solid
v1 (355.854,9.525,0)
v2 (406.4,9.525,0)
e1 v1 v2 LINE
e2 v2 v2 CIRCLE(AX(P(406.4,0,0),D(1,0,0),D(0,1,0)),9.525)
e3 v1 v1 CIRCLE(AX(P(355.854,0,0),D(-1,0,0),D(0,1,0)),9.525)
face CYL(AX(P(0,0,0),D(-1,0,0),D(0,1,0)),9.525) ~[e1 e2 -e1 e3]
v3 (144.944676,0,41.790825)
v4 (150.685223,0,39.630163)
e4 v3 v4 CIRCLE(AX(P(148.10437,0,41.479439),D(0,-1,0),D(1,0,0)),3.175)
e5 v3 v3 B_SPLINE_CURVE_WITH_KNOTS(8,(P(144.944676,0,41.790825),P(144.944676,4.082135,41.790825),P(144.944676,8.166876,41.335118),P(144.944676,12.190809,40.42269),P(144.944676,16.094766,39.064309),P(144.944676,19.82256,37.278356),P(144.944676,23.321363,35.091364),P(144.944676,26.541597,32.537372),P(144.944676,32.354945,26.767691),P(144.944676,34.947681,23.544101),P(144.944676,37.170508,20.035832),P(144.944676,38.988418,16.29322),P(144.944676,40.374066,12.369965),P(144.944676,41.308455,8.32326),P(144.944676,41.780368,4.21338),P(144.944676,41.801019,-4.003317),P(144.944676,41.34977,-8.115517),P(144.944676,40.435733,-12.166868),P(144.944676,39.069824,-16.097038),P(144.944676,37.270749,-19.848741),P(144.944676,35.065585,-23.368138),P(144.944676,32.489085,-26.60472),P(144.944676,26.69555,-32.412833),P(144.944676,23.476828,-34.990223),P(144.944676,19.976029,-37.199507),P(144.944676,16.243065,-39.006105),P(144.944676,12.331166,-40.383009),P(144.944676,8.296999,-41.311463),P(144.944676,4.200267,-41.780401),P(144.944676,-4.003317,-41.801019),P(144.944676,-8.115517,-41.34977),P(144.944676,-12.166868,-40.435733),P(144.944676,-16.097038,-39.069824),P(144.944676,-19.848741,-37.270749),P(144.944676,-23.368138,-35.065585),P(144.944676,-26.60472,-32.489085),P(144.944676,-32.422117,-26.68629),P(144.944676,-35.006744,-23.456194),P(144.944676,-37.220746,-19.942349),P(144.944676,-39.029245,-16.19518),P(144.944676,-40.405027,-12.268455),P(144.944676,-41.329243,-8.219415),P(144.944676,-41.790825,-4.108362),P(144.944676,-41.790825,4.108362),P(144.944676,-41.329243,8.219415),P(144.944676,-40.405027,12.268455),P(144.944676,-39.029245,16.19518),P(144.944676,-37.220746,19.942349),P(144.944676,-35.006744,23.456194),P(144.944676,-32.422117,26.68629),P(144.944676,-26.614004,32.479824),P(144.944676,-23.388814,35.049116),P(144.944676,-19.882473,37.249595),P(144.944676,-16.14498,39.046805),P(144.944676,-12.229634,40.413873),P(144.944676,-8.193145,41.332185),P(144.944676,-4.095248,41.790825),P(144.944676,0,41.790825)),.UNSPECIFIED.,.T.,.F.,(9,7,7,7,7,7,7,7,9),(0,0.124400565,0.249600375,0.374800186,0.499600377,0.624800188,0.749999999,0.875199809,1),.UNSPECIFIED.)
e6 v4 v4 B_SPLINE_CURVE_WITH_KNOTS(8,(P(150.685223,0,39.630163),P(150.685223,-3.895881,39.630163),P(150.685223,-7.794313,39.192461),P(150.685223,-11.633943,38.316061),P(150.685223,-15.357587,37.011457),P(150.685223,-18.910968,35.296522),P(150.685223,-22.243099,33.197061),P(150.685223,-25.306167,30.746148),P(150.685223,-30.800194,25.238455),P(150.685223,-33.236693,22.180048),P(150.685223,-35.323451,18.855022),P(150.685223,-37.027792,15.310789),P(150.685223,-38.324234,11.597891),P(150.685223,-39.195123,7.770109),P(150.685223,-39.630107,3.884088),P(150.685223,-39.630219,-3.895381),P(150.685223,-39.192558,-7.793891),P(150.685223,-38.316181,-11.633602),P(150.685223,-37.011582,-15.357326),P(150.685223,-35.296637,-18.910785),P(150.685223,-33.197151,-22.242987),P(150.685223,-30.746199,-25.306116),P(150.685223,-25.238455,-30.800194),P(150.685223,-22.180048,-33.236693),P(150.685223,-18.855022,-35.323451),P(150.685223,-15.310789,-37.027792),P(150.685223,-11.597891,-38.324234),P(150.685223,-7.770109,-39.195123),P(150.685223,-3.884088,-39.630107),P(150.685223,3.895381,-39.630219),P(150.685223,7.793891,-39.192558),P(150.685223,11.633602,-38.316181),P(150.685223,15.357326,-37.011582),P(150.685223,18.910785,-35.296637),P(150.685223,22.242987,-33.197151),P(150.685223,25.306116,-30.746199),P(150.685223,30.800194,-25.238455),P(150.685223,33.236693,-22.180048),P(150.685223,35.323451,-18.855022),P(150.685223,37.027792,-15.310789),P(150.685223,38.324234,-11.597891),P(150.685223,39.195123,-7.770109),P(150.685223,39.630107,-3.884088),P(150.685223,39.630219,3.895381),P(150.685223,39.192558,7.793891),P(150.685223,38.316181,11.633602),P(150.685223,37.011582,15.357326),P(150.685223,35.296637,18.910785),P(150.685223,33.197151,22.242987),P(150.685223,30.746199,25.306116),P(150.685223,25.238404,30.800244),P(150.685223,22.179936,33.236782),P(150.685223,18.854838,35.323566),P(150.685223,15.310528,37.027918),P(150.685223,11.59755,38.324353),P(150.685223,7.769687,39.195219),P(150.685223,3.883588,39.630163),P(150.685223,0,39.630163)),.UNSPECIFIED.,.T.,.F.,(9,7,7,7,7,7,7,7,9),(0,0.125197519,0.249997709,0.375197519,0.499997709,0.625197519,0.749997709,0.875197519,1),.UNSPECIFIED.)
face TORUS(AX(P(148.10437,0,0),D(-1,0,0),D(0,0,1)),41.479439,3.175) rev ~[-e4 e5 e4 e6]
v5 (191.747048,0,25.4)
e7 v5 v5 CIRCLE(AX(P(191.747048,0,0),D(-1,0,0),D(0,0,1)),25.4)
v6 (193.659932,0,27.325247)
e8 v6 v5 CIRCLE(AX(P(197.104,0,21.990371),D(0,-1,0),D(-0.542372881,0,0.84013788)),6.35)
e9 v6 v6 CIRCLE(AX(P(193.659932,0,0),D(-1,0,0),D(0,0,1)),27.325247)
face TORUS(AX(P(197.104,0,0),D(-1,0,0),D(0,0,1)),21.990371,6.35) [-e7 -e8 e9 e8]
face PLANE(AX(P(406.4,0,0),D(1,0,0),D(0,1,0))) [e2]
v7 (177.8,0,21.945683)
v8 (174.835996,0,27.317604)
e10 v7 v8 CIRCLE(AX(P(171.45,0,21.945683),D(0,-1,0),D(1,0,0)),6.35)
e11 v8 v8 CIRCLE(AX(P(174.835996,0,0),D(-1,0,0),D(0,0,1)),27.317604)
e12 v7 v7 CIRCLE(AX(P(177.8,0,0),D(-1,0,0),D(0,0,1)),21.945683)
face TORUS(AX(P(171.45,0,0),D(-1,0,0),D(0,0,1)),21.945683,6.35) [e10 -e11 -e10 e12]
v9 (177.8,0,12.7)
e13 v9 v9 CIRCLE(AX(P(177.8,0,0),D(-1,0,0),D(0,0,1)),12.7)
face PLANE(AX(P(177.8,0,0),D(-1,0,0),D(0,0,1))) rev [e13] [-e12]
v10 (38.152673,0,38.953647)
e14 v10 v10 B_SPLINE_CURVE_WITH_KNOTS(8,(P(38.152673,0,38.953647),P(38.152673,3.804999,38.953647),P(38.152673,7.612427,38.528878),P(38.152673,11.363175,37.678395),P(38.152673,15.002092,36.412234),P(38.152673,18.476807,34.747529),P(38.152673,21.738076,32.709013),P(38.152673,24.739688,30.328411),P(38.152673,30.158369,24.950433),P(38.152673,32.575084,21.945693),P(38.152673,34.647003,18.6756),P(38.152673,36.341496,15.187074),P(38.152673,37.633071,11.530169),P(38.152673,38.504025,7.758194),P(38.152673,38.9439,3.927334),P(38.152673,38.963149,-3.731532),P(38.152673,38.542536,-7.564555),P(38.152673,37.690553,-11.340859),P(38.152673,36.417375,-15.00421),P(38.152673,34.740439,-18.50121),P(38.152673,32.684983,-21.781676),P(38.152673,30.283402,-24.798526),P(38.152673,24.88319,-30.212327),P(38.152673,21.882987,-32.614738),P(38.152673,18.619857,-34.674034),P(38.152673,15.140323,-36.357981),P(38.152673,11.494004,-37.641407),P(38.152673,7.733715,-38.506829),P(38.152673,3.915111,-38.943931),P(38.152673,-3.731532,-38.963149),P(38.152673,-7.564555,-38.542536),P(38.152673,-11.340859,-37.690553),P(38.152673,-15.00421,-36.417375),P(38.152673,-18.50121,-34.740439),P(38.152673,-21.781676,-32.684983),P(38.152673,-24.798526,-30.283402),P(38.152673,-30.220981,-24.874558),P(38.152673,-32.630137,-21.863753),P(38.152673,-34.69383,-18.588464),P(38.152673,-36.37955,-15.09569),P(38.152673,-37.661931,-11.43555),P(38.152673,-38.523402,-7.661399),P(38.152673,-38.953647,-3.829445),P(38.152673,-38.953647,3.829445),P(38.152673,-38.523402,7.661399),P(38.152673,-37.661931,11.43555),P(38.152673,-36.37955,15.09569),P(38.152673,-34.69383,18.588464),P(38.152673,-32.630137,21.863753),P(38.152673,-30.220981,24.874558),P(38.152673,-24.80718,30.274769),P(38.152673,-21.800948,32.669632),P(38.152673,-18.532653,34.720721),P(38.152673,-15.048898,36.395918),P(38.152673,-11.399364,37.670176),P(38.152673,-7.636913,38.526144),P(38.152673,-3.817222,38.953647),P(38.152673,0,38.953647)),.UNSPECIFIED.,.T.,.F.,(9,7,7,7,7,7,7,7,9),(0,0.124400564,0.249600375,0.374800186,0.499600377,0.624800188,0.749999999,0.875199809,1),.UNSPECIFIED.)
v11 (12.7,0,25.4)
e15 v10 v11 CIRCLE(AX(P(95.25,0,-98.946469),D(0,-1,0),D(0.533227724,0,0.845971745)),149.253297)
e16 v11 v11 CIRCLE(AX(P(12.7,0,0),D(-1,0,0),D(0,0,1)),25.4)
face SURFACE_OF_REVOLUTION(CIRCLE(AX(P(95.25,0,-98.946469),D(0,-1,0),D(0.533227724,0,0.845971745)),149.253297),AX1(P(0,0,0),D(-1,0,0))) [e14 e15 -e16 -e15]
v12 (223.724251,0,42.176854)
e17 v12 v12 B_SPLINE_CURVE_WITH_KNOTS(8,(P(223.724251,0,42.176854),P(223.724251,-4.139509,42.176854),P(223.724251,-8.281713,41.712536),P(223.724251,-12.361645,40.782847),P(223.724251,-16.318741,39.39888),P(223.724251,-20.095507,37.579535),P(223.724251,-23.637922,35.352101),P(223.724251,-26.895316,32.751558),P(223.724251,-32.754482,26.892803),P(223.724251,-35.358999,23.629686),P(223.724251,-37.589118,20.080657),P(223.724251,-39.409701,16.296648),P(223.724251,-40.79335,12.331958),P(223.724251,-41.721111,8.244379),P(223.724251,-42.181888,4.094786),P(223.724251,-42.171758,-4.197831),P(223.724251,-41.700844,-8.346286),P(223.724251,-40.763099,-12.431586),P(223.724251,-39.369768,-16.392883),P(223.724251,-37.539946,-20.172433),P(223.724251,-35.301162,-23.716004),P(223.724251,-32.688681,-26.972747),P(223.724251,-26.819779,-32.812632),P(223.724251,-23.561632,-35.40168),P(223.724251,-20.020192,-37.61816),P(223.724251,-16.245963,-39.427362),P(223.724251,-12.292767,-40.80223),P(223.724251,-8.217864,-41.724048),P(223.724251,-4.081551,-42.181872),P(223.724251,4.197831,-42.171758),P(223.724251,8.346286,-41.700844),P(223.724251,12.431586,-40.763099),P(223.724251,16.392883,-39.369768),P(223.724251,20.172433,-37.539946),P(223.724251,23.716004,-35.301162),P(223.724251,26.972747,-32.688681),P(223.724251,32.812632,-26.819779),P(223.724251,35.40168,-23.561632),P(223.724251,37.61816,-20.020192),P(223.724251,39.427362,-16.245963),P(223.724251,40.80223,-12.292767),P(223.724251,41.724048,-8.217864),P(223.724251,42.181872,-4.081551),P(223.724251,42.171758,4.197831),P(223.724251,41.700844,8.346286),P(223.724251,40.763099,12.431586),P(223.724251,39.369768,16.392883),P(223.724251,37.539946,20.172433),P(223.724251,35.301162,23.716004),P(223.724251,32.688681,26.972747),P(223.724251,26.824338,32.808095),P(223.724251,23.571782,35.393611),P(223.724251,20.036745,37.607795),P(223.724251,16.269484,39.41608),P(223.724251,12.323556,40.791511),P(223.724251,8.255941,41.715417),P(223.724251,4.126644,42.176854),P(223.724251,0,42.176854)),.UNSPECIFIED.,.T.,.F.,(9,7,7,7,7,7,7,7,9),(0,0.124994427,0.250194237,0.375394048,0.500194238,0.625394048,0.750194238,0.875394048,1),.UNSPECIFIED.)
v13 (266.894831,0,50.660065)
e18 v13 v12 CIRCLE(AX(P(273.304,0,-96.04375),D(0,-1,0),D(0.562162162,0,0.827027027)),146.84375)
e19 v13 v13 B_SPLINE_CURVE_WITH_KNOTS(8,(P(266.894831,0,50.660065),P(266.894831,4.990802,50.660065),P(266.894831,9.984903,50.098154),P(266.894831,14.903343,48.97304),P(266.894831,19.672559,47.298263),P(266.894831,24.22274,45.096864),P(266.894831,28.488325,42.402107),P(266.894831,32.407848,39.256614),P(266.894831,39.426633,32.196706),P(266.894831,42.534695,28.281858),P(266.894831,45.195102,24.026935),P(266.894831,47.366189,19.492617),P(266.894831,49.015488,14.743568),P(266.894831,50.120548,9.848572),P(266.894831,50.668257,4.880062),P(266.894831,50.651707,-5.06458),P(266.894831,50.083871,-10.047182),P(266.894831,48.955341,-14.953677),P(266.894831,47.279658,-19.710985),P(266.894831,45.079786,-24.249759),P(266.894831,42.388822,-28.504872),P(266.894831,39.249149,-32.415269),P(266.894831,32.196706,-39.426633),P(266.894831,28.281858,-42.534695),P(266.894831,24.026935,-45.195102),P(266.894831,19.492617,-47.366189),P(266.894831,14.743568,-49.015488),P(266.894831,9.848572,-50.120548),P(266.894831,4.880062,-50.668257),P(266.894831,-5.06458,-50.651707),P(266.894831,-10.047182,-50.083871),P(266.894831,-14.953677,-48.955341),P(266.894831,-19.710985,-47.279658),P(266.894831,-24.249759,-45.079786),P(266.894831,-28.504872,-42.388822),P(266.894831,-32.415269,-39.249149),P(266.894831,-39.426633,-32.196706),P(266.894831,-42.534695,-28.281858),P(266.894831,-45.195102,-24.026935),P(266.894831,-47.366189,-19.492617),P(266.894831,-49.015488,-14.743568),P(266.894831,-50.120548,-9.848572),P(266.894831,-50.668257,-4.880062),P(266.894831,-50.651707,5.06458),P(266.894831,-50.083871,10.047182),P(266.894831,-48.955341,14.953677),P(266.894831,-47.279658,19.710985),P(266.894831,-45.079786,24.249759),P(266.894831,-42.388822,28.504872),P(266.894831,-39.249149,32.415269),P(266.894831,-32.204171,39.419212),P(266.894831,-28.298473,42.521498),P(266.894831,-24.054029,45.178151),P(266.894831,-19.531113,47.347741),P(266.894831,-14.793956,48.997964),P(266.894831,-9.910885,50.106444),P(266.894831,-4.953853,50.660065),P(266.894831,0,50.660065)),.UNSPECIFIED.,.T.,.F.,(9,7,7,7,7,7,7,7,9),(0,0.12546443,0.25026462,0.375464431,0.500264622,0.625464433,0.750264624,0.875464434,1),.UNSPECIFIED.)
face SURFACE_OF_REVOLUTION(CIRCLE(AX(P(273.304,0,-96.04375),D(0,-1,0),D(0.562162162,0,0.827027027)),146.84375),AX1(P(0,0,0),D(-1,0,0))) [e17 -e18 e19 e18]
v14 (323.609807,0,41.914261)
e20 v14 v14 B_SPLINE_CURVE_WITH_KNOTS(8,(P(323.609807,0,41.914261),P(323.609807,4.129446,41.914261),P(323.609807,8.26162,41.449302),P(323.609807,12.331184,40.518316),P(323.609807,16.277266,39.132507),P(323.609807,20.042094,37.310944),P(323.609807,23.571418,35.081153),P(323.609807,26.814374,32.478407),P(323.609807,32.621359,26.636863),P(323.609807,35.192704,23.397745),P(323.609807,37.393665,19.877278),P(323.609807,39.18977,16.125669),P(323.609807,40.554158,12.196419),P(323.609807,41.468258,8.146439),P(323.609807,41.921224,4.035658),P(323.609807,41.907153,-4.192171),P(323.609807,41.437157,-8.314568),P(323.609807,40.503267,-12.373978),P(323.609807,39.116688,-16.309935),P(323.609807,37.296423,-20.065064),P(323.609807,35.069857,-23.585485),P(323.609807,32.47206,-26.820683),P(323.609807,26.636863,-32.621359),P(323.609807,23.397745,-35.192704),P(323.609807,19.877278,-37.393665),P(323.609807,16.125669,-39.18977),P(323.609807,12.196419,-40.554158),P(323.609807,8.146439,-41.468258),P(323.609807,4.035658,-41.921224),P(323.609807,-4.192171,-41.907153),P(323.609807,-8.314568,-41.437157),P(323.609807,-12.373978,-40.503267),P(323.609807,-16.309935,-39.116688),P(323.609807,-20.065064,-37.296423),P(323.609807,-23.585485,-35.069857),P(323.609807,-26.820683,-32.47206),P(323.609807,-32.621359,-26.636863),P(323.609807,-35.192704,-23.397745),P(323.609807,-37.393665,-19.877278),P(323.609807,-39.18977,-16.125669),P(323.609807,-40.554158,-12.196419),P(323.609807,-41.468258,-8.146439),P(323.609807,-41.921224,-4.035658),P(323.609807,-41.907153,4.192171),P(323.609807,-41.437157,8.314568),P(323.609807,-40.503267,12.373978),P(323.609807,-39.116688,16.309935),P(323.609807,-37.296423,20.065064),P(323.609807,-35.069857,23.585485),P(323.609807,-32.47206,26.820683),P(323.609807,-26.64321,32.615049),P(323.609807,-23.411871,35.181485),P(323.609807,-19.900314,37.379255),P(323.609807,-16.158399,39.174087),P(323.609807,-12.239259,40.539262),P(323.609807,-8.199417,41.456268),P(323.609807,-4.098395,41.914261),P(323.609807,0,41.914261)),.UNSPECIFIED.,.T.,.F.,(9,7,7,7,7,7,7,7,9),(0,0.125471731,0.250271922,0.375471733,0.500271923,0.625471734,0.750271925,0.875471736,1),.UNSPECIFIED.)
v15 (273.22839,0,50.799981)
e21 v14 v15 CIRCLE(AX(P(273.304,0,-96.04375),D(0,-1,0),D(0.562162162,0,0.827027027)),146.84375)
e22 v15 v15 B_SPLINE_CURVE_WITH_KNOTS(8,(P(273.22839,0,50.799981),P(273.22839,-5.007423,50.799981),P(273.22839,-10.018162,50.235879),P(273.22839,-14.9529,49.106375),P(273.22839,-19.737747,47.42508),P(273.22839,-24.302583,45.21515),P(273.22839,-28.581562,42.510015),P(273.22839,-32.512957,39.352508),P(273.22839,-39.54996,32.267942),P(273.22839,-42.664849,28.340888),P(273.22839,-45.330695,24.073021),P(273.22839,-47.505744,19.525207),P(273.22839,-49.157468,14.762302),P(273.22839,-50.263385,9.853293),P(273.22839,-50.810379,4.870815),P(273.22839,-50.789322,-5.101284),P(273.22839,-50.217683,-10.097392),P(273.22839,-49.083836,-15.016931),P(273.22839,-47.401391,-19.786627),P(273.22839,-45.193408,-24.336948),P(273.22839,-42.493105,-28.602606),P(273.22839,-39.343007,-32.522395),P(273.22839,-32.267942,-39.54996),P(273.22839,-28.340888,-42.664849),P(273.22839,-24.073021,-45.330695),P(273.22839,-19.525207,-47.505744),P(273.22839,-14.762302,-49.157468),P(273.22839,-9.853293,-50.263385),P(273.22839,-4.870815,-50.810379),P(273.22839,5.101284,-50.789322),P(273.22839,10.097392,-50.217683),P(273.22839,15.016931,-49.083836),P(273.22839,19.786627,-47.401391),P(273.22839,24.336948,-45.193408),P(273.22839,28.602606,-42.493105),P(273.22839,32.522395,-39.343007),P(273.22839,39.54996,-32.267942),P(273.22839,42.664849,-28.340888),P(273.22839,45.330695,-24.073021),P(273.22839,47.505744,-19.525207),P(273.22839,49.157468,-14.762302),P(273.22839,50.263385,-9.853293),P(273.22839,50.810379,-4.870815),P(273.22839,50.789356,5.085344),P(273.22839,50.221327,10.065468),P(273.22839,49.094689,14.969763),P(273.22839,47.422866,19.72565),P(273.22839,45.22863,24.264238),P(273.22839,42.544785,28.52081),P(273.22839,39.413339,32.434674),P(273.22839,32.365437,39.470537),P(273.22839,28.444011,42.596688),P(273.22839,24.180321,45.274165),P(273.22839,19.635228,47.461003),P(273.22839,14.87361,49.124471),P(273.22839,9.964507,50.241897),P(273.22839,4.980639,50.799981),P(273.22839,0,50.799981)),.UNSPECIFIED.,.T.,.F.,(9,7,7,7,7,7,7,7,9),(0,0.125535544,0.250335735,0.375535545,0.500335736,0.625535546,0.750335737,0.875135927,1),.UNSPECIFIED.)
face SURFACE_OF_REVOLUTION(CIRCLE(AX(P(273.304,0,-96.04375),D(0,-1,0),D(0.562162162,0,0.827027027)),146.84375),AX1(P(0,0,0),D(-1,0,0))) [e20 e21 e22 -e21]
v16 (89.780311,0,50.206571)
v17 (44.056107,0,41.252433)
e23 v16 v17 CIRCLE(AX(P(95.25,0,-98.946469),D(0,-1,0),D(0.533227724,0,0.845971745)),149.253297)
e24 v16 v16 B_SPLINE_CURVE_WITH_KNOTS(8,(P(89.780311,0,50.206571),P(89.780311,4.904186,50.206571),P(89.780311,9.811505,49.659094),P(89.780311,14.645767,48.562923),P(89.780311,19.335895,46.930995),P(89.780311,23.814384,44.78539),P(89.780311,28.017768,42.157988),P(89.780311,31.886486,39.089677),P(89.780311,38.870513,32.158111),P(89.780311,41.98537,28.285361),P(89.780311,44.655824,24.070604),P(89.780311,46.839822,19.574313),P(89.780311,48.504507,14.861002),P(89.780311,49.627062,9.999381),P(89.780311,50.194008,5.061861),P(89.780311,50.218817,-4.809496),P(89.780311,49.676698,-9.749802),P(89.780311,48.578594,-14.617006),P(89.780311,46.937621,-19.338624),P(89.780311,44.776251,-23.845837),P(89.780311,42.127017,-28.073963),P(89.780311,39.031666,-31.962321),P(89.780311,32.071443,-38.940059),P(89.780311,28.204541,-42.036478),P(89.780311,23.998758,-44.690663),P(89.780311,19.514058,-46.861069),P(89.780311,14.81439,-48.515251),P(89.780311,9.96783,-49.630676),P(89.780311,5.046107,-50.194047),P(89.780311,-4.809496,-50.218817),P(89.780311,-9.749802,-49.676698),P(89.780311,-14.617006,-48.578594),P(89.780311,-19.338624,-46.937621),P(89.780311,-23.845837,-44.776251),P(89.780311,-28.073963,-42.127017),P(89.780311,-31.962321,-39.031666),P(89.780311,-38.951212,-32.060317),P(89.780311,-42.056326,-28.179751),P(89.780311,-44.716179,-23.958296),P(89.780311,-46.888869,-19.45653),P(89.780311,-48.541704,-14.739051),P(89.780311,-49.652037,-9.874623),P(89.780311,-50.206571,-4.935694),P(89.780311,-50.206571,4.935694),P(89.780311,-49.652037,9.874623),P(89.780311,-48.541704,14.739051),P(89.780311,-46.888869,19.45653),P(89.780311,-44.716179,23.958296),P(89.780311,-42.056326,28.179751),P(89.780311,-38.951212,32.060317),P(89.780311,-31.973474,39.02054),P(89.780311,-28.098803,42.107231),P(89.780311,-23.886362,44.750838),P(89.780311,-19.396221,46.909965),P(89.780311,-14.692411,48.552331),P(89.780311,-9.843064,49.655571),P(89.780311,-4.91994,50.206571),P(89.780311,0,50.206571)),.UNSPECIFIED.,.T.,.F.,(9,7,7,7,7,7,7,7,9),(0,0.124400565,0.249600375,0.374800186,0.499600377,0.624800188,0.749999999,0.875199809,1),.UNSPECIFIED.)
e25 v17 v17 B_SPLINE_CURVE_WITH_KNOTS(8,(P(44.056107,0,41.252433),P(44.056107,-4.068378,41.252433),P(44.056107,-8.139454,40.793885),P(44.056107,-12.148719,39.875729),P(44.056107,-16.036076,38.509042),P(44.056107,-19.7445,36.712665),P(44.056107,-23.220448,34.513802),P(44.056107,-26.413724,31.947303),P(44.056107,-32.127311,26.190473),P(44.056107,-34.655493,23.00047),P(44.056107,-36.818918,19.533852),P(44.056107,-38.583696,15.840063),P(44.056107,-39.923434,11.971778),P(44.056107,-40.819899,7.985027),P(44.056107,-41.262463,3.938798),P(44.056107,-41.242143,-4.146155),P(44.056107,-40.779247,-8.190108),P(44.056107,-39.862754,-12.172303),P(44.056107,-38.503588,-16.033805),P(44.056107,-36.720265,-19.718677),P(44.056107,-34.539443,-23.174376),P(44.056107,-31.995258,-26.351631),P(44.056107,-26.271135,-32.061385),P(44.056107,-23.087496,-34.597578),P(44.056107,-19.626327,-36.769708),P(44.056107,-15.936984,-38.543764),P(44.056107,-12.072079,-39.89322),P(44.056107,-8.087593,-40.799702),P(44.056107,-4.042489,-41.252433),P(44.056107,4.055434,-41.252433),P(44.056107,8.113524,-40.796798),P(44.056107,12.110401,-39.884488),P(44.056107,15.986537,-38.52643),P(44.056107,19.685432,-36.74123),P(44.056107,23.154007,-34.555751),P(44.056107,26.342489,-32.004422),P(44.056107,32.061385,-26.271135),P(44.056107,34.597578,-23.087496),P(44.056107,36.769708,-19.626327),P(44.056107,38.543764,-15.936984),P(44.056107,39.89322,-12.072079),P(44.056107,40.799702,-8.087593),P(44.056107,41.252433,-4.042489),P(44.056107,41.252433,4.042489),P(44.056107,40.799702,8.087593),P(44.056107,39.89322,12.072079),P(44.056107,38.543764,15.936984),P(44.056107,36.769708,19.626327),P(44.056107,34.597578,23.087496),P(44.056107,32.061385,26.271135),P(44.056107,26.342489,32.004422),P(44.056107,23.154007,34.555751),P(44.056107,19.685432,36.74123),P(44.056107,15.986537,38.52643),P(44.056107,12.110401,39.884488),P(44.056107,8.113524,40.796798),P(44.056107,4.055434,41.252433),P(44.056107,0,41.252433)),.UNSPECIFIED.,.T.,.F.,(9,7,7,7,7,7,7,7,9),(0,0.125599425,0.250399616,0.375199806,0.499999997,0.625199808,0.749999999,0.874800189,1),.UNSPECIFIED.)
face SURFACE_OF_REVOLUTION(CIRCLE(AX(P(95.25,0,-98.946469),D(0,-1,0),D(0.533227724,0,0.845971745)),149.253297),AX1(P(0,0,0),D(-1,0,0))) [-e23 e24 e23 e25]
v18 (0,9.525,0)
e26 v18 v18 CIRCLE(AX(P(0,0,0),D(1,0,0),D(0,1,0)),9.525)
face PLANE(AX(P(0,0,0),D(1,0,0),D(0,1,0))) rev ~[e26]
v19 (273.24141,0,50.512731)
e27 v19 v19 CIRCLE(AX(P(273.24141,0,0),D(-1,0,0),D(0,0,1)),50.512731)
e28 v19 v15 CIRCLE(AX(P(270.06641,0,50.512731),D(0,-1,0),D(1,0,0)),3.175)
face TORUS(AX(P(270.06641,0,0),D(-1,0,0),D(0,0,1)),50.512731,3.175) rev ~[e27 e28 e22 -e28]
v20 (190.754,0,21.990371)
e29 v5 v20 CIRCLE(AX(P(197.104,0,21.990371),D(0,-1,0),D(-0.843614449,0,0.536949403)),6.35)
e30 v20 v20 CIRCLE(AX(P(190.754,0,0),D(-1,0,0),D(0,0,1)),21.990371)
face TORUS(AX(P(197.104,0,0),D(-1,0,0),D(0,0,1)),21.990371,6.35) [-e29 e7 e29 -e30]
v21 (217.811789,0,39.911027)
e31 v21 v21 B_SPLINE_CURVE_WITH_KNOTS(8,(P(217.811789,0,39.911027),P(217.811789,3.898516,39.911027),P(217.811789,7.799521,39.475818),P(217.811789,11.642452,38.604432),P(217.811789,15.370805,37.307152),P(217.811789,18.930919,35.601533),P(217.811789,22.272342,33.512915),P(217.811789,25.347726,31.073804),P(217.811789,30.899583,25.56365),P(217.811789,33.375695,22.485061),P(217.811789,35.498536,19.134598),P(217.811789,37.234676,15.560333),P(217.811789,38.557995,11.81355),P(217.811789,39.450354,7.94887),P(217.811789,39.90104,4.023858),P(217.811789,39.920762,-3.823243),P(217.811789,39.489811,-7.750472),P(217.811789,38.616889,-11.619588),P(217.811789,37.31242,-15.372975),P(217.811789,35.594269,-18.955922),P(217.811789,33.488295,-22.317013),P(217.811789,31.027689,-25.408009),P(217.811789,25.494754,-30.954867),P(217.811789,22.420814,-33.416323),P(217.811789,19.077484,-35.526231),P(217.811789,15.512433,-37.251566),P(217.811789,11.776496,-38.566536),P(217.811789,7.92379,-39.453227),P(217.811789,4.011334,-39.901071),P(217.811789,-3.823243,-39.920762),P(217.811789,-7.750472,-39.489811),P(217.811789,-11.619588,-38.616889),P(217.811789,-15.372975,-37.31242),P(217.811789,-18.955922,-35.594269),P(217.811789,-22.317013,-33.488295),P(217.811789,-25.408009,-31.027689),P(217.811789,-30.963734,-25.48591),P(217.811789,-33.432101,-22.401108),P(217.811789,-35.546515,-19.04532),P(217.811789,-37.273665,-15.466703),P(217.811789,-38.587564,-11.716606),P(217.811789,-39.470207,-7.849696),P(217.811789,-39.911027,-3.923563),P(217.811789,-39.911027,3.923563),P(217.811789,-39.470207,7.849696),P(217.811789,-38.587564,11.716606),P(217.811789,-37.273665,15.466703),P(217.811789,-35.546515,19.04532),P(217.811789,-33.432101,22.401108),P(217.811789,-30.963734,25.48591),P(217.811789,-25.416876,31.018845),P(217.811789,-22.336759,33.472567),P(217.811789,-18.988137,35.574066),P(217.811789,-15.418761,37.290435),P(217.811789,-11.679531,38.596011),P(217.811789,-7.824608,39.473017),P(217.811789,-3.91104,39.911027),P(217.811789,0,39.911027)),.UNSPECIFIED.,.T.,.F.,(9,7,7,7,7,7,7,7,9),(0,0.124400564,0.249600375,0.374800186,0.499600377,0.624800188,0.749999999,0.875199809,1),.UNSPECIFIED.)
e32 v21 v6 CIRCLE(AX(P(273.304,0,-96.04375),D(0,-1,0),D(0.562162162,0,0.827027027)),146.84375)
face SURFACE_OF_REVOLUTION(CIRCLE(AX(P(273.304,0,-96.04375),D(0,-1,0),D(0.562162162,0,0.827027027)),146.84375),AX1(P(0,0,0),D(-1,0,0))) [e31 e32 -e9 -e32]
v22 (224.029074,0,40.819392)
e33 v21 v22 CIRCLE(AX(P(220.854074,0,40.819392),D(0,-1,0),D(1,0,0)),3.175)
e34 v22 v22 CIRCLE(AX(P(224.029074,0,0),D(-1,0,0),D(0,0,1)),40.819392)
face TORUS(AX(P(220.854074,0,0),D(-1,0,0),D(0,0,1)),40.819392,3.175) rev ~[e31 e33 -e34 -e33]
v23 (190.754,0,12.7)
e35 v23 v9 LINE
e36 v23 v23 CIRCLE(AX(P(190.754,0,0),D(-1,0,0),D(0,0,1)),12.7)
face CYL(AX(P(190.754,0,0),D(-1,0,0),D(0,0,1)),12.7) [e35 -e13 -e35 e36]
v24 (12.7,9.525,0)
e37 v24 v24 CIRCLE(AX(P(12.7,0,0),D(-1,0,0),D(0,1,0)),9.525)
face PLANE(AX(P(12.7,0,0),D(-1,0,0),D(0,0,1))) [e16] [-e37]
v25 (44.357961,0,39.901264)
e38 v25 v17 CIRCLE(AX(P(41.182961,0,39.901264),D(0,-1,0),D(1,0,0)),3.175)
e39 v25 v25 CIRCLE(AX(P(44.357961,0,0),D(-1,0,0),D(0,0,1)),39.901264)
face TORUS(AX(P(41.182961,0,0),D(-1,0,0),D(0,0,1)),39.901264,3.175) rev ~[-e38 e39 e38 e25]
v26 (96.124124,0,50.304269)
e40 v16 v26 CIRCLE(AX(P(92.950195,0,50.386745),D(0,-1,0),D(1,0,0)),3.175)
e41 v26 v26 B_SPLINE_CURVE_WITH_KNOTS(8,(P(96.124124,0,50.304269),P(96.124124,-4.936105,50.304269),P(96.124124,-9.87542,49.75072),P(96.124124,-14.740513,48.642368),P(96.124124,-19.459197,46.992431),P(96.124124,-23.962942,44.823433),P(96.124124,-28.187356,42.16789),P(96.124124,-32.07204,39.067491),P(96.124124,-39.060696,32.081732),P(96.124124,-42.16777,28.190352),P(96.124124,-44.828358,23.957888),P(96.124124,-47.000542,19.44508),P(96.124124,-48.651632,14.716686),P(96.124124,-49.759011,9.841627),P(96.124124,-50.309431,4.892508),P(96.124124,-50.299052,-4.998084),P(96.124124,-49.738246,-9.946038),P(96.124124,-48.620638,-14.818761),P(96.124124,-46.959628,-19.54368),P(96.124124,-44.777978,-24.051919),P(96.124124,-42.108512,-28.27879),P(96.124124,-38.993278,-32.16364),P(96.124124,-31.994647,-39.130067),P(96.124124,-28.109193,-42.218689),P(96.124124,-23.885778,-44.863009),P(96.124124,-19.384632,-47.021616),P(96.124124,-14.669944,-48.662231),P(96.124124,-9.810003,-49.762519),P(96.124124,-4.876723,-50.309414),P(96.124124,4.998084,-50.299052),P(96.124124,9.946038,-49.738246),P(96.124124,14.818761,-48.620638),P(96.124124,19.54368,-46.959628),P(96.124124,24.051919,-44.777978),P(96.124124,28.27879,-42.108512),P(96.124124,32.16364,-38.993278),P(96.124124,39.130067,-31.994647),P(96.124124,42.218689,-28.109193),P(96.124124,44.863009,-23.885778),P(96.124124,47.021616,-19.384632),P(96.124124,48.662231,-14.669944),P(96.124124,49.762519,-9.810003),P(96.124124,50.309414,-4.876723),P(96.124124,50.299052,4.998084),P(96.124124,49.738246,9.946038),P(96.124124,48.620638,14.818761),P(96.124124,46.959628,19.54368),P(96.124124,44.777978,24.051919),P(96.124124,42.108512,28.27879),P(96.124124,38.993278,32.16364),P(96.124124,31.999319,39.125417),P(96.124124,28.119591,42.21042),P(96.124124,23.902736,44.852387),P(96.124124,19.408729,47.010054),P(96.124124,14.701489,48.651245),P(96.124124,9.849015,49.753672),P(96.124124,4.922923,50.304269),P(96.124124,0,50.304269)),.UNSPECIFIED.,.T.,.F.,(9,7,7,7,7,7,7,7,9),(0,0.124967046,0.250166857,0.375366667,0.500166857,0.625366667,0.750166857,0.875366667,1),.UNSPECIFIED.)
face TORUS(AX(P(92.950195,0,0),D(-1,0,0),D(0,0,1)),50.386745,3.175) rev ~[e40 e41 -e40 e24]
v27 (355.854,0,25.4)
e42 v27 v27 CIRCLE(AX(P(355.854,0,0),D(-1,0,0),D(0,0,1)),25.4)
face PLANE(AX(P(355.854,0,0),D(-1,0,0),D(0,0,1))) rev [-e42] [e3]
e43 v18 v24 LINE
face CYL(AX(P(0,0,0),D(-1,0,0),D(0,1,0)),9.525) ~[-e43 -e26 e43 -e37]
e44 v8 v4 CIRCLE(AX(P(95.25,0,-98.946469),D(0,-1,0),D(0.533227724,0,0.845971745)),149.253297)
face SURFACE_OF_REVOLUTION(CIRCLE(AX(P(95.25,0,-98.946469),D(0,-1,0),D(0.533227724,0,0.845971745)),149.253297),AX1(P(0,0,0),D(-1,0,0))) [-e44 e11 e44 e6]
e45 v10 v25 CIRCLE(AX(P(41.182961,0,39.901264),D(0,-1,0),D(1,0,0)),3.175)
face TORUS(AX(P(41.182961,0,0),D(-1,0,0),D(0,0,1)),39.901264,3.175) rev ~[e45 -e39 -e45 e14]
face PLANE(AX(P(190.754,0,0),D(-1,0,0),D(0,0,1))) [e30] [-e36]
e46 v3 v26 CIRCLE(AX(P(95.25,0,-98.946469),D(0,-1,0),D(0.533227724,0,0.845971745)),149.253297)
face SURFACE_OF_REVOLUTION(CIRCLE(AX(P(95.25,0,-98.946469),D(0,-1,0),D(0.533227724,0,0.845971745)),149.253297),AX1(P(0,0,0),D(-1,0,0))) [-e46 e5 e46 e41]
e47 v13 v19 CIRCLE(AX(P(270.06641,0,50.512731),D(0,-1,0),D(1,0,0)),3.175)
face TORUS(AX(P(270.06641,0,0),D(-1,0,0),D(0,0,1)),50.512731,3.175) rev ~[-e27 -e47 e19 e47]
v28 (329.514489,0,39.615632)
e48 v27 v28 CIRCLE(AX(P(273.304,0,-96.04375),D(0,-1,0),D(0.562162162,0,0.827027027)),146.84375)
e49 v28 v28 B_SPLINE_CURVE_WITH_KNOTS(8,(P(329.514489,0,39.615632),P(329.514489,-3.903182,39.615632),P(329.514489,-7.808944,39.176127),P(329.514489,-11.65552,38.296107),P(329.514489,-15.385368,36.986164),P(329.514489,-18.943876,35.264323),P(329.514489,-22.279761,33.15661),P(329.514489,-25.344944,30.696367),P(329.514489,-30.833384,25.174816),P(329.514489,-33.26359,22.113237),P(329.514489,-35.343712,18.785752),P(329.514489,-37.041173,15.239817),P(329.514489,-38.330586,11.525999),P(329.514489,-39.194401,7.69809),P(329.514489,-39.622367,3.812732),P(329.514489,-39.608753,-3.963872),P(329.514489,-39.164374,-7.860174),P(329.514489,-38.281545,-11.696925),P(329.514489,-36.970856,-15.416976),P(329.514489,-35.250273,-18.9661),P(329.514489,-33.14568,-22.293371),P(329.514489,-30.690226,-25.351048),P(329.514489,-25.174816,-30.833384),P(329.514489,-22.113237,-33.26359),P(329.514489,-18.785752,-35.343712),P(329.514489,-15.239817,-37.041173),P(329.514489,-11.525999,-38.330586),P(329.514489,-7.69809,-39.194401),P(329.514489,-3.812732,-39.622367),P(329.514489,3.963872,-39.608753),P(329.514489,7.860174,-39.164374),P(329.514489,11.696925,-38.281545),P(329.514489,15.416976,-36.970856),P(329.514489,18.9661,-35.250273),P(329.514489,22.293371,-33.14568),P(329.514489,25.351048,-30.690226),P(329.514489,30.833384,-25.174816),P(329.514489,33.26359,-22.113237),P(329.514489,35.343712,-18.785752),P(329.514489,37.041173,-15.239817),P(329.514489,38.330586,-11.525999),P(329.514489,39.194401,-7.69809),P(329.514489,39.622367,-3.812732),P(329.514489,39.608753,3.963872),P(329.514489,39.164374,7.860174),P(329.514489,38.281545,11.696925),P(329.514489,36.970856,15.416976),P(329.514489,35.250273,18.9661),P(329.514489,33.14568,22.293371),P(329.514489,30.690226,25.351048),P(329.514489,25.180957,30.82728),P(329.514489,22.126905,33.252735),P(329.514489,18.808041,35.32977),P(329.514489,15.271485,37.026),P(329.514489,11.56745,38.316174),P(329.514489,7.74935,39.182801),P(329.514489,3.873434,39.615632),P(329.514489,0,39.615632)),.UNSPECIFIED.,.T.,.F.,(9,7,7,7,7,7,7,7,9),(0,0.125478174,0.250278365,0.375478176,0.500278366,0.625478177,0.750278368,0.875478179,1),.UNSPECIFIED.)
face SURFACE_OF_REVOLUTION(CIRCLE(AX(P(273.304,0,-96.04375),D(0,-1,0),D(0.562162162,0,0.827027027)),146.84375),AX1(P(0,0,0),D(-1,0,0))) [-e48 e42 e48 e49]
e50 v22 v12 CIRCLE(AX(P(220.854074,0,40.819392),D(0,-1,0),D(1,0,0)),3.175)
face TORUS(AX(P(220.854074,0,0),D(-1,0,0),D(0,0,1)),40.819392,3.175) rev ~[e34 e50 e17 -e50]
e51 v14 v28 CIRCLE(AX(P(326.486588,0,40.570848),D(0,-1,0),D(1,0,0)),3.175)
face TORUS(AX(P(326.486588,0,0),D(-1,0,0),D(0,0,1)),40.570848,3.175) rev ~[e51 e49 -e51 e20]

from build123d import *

# Parameters (mm, degrees)
F0_R     = 9.525
F1_DEPTH = 406.4
F4_R     = 3.175


with BuildPart() as f1:
    # F0 (on Right) → F1 (new body)
    with BuildSketch(Plane.YZ):
        Circle(F0_R)
    extrude(amount=F1_DEPTH)

    # F2 (on Front) → F3 (revolve)
    with BuildSketch(Plane.XZ):
        with BuildLine():
            Line((12.7, 25.4), (12.7, 12.7))
            Line((12.7, 12.7), (12.7, 0))
            Line((12.7, 0), (355.854, 0))
            Line((355.854, 0), (355.854, 12.7))
            Line((355.854, 12.7), (355.854, 25.4))
            ThreePointArc((355.854, 25.4), (275.0469154689, 50.7896561436), (193.6599322034, 27.3252468301))
            ThreePointArc((193.6599322034, 27.3252468301), (192.5994323058, 26.4660131324), (191.7470482483, 25.4))
            ThreePointArc((191.7470482483, 25.4), (191.0073146865, 23.7660199584), (190.754, 21.9903712915))
            Line((190.754, 21.9903712915), (190.754, 12.7))
            Line((190.754, 12.7), (177.8, 12.7))
            Line((177.8, 12.7), (177.8, 21.9456832449))
            ThreePointArc((177.8, 21.9456832449), (177.009836999, 25.0133717142), (174.8359960491, 27.3176038285))
            ThreePointArc((174.8359960491, 27.3176038285), (93.4848849992, 50.2963909378), (12.7, 25.4))
        make_face()
    revolve(axis=Axis((0, 0, 0), (-1, 0, 0)))

    # F4 (on Front) → F5 (revolve, cut)
    with BuildSketch(Plane.XZ):
        with Locations((92.9501950741, 50.3867454827)):
            Circle(F4_R)
        with Locations((41.1829613149, 39.9012640119)):
            Circle(F4_R)
        with Locations((148.1043696404, 41.4794385433)):
            Circle(F4_R)
        with Locations((270.0664103031, 50.5127310753)):
            Circle(F4_R)
        with Locations((220.8540737629, 40.8193916082)):
            Circle(F4_R)
        with Locations((326.4865875244, 40.5708476901)):
            Circle(F4_R)
    revolve(axis=Axis((0, 0, 0), (-1, 0, 0)), mode=Mode.SUBTRACT)


solid = f1.part
